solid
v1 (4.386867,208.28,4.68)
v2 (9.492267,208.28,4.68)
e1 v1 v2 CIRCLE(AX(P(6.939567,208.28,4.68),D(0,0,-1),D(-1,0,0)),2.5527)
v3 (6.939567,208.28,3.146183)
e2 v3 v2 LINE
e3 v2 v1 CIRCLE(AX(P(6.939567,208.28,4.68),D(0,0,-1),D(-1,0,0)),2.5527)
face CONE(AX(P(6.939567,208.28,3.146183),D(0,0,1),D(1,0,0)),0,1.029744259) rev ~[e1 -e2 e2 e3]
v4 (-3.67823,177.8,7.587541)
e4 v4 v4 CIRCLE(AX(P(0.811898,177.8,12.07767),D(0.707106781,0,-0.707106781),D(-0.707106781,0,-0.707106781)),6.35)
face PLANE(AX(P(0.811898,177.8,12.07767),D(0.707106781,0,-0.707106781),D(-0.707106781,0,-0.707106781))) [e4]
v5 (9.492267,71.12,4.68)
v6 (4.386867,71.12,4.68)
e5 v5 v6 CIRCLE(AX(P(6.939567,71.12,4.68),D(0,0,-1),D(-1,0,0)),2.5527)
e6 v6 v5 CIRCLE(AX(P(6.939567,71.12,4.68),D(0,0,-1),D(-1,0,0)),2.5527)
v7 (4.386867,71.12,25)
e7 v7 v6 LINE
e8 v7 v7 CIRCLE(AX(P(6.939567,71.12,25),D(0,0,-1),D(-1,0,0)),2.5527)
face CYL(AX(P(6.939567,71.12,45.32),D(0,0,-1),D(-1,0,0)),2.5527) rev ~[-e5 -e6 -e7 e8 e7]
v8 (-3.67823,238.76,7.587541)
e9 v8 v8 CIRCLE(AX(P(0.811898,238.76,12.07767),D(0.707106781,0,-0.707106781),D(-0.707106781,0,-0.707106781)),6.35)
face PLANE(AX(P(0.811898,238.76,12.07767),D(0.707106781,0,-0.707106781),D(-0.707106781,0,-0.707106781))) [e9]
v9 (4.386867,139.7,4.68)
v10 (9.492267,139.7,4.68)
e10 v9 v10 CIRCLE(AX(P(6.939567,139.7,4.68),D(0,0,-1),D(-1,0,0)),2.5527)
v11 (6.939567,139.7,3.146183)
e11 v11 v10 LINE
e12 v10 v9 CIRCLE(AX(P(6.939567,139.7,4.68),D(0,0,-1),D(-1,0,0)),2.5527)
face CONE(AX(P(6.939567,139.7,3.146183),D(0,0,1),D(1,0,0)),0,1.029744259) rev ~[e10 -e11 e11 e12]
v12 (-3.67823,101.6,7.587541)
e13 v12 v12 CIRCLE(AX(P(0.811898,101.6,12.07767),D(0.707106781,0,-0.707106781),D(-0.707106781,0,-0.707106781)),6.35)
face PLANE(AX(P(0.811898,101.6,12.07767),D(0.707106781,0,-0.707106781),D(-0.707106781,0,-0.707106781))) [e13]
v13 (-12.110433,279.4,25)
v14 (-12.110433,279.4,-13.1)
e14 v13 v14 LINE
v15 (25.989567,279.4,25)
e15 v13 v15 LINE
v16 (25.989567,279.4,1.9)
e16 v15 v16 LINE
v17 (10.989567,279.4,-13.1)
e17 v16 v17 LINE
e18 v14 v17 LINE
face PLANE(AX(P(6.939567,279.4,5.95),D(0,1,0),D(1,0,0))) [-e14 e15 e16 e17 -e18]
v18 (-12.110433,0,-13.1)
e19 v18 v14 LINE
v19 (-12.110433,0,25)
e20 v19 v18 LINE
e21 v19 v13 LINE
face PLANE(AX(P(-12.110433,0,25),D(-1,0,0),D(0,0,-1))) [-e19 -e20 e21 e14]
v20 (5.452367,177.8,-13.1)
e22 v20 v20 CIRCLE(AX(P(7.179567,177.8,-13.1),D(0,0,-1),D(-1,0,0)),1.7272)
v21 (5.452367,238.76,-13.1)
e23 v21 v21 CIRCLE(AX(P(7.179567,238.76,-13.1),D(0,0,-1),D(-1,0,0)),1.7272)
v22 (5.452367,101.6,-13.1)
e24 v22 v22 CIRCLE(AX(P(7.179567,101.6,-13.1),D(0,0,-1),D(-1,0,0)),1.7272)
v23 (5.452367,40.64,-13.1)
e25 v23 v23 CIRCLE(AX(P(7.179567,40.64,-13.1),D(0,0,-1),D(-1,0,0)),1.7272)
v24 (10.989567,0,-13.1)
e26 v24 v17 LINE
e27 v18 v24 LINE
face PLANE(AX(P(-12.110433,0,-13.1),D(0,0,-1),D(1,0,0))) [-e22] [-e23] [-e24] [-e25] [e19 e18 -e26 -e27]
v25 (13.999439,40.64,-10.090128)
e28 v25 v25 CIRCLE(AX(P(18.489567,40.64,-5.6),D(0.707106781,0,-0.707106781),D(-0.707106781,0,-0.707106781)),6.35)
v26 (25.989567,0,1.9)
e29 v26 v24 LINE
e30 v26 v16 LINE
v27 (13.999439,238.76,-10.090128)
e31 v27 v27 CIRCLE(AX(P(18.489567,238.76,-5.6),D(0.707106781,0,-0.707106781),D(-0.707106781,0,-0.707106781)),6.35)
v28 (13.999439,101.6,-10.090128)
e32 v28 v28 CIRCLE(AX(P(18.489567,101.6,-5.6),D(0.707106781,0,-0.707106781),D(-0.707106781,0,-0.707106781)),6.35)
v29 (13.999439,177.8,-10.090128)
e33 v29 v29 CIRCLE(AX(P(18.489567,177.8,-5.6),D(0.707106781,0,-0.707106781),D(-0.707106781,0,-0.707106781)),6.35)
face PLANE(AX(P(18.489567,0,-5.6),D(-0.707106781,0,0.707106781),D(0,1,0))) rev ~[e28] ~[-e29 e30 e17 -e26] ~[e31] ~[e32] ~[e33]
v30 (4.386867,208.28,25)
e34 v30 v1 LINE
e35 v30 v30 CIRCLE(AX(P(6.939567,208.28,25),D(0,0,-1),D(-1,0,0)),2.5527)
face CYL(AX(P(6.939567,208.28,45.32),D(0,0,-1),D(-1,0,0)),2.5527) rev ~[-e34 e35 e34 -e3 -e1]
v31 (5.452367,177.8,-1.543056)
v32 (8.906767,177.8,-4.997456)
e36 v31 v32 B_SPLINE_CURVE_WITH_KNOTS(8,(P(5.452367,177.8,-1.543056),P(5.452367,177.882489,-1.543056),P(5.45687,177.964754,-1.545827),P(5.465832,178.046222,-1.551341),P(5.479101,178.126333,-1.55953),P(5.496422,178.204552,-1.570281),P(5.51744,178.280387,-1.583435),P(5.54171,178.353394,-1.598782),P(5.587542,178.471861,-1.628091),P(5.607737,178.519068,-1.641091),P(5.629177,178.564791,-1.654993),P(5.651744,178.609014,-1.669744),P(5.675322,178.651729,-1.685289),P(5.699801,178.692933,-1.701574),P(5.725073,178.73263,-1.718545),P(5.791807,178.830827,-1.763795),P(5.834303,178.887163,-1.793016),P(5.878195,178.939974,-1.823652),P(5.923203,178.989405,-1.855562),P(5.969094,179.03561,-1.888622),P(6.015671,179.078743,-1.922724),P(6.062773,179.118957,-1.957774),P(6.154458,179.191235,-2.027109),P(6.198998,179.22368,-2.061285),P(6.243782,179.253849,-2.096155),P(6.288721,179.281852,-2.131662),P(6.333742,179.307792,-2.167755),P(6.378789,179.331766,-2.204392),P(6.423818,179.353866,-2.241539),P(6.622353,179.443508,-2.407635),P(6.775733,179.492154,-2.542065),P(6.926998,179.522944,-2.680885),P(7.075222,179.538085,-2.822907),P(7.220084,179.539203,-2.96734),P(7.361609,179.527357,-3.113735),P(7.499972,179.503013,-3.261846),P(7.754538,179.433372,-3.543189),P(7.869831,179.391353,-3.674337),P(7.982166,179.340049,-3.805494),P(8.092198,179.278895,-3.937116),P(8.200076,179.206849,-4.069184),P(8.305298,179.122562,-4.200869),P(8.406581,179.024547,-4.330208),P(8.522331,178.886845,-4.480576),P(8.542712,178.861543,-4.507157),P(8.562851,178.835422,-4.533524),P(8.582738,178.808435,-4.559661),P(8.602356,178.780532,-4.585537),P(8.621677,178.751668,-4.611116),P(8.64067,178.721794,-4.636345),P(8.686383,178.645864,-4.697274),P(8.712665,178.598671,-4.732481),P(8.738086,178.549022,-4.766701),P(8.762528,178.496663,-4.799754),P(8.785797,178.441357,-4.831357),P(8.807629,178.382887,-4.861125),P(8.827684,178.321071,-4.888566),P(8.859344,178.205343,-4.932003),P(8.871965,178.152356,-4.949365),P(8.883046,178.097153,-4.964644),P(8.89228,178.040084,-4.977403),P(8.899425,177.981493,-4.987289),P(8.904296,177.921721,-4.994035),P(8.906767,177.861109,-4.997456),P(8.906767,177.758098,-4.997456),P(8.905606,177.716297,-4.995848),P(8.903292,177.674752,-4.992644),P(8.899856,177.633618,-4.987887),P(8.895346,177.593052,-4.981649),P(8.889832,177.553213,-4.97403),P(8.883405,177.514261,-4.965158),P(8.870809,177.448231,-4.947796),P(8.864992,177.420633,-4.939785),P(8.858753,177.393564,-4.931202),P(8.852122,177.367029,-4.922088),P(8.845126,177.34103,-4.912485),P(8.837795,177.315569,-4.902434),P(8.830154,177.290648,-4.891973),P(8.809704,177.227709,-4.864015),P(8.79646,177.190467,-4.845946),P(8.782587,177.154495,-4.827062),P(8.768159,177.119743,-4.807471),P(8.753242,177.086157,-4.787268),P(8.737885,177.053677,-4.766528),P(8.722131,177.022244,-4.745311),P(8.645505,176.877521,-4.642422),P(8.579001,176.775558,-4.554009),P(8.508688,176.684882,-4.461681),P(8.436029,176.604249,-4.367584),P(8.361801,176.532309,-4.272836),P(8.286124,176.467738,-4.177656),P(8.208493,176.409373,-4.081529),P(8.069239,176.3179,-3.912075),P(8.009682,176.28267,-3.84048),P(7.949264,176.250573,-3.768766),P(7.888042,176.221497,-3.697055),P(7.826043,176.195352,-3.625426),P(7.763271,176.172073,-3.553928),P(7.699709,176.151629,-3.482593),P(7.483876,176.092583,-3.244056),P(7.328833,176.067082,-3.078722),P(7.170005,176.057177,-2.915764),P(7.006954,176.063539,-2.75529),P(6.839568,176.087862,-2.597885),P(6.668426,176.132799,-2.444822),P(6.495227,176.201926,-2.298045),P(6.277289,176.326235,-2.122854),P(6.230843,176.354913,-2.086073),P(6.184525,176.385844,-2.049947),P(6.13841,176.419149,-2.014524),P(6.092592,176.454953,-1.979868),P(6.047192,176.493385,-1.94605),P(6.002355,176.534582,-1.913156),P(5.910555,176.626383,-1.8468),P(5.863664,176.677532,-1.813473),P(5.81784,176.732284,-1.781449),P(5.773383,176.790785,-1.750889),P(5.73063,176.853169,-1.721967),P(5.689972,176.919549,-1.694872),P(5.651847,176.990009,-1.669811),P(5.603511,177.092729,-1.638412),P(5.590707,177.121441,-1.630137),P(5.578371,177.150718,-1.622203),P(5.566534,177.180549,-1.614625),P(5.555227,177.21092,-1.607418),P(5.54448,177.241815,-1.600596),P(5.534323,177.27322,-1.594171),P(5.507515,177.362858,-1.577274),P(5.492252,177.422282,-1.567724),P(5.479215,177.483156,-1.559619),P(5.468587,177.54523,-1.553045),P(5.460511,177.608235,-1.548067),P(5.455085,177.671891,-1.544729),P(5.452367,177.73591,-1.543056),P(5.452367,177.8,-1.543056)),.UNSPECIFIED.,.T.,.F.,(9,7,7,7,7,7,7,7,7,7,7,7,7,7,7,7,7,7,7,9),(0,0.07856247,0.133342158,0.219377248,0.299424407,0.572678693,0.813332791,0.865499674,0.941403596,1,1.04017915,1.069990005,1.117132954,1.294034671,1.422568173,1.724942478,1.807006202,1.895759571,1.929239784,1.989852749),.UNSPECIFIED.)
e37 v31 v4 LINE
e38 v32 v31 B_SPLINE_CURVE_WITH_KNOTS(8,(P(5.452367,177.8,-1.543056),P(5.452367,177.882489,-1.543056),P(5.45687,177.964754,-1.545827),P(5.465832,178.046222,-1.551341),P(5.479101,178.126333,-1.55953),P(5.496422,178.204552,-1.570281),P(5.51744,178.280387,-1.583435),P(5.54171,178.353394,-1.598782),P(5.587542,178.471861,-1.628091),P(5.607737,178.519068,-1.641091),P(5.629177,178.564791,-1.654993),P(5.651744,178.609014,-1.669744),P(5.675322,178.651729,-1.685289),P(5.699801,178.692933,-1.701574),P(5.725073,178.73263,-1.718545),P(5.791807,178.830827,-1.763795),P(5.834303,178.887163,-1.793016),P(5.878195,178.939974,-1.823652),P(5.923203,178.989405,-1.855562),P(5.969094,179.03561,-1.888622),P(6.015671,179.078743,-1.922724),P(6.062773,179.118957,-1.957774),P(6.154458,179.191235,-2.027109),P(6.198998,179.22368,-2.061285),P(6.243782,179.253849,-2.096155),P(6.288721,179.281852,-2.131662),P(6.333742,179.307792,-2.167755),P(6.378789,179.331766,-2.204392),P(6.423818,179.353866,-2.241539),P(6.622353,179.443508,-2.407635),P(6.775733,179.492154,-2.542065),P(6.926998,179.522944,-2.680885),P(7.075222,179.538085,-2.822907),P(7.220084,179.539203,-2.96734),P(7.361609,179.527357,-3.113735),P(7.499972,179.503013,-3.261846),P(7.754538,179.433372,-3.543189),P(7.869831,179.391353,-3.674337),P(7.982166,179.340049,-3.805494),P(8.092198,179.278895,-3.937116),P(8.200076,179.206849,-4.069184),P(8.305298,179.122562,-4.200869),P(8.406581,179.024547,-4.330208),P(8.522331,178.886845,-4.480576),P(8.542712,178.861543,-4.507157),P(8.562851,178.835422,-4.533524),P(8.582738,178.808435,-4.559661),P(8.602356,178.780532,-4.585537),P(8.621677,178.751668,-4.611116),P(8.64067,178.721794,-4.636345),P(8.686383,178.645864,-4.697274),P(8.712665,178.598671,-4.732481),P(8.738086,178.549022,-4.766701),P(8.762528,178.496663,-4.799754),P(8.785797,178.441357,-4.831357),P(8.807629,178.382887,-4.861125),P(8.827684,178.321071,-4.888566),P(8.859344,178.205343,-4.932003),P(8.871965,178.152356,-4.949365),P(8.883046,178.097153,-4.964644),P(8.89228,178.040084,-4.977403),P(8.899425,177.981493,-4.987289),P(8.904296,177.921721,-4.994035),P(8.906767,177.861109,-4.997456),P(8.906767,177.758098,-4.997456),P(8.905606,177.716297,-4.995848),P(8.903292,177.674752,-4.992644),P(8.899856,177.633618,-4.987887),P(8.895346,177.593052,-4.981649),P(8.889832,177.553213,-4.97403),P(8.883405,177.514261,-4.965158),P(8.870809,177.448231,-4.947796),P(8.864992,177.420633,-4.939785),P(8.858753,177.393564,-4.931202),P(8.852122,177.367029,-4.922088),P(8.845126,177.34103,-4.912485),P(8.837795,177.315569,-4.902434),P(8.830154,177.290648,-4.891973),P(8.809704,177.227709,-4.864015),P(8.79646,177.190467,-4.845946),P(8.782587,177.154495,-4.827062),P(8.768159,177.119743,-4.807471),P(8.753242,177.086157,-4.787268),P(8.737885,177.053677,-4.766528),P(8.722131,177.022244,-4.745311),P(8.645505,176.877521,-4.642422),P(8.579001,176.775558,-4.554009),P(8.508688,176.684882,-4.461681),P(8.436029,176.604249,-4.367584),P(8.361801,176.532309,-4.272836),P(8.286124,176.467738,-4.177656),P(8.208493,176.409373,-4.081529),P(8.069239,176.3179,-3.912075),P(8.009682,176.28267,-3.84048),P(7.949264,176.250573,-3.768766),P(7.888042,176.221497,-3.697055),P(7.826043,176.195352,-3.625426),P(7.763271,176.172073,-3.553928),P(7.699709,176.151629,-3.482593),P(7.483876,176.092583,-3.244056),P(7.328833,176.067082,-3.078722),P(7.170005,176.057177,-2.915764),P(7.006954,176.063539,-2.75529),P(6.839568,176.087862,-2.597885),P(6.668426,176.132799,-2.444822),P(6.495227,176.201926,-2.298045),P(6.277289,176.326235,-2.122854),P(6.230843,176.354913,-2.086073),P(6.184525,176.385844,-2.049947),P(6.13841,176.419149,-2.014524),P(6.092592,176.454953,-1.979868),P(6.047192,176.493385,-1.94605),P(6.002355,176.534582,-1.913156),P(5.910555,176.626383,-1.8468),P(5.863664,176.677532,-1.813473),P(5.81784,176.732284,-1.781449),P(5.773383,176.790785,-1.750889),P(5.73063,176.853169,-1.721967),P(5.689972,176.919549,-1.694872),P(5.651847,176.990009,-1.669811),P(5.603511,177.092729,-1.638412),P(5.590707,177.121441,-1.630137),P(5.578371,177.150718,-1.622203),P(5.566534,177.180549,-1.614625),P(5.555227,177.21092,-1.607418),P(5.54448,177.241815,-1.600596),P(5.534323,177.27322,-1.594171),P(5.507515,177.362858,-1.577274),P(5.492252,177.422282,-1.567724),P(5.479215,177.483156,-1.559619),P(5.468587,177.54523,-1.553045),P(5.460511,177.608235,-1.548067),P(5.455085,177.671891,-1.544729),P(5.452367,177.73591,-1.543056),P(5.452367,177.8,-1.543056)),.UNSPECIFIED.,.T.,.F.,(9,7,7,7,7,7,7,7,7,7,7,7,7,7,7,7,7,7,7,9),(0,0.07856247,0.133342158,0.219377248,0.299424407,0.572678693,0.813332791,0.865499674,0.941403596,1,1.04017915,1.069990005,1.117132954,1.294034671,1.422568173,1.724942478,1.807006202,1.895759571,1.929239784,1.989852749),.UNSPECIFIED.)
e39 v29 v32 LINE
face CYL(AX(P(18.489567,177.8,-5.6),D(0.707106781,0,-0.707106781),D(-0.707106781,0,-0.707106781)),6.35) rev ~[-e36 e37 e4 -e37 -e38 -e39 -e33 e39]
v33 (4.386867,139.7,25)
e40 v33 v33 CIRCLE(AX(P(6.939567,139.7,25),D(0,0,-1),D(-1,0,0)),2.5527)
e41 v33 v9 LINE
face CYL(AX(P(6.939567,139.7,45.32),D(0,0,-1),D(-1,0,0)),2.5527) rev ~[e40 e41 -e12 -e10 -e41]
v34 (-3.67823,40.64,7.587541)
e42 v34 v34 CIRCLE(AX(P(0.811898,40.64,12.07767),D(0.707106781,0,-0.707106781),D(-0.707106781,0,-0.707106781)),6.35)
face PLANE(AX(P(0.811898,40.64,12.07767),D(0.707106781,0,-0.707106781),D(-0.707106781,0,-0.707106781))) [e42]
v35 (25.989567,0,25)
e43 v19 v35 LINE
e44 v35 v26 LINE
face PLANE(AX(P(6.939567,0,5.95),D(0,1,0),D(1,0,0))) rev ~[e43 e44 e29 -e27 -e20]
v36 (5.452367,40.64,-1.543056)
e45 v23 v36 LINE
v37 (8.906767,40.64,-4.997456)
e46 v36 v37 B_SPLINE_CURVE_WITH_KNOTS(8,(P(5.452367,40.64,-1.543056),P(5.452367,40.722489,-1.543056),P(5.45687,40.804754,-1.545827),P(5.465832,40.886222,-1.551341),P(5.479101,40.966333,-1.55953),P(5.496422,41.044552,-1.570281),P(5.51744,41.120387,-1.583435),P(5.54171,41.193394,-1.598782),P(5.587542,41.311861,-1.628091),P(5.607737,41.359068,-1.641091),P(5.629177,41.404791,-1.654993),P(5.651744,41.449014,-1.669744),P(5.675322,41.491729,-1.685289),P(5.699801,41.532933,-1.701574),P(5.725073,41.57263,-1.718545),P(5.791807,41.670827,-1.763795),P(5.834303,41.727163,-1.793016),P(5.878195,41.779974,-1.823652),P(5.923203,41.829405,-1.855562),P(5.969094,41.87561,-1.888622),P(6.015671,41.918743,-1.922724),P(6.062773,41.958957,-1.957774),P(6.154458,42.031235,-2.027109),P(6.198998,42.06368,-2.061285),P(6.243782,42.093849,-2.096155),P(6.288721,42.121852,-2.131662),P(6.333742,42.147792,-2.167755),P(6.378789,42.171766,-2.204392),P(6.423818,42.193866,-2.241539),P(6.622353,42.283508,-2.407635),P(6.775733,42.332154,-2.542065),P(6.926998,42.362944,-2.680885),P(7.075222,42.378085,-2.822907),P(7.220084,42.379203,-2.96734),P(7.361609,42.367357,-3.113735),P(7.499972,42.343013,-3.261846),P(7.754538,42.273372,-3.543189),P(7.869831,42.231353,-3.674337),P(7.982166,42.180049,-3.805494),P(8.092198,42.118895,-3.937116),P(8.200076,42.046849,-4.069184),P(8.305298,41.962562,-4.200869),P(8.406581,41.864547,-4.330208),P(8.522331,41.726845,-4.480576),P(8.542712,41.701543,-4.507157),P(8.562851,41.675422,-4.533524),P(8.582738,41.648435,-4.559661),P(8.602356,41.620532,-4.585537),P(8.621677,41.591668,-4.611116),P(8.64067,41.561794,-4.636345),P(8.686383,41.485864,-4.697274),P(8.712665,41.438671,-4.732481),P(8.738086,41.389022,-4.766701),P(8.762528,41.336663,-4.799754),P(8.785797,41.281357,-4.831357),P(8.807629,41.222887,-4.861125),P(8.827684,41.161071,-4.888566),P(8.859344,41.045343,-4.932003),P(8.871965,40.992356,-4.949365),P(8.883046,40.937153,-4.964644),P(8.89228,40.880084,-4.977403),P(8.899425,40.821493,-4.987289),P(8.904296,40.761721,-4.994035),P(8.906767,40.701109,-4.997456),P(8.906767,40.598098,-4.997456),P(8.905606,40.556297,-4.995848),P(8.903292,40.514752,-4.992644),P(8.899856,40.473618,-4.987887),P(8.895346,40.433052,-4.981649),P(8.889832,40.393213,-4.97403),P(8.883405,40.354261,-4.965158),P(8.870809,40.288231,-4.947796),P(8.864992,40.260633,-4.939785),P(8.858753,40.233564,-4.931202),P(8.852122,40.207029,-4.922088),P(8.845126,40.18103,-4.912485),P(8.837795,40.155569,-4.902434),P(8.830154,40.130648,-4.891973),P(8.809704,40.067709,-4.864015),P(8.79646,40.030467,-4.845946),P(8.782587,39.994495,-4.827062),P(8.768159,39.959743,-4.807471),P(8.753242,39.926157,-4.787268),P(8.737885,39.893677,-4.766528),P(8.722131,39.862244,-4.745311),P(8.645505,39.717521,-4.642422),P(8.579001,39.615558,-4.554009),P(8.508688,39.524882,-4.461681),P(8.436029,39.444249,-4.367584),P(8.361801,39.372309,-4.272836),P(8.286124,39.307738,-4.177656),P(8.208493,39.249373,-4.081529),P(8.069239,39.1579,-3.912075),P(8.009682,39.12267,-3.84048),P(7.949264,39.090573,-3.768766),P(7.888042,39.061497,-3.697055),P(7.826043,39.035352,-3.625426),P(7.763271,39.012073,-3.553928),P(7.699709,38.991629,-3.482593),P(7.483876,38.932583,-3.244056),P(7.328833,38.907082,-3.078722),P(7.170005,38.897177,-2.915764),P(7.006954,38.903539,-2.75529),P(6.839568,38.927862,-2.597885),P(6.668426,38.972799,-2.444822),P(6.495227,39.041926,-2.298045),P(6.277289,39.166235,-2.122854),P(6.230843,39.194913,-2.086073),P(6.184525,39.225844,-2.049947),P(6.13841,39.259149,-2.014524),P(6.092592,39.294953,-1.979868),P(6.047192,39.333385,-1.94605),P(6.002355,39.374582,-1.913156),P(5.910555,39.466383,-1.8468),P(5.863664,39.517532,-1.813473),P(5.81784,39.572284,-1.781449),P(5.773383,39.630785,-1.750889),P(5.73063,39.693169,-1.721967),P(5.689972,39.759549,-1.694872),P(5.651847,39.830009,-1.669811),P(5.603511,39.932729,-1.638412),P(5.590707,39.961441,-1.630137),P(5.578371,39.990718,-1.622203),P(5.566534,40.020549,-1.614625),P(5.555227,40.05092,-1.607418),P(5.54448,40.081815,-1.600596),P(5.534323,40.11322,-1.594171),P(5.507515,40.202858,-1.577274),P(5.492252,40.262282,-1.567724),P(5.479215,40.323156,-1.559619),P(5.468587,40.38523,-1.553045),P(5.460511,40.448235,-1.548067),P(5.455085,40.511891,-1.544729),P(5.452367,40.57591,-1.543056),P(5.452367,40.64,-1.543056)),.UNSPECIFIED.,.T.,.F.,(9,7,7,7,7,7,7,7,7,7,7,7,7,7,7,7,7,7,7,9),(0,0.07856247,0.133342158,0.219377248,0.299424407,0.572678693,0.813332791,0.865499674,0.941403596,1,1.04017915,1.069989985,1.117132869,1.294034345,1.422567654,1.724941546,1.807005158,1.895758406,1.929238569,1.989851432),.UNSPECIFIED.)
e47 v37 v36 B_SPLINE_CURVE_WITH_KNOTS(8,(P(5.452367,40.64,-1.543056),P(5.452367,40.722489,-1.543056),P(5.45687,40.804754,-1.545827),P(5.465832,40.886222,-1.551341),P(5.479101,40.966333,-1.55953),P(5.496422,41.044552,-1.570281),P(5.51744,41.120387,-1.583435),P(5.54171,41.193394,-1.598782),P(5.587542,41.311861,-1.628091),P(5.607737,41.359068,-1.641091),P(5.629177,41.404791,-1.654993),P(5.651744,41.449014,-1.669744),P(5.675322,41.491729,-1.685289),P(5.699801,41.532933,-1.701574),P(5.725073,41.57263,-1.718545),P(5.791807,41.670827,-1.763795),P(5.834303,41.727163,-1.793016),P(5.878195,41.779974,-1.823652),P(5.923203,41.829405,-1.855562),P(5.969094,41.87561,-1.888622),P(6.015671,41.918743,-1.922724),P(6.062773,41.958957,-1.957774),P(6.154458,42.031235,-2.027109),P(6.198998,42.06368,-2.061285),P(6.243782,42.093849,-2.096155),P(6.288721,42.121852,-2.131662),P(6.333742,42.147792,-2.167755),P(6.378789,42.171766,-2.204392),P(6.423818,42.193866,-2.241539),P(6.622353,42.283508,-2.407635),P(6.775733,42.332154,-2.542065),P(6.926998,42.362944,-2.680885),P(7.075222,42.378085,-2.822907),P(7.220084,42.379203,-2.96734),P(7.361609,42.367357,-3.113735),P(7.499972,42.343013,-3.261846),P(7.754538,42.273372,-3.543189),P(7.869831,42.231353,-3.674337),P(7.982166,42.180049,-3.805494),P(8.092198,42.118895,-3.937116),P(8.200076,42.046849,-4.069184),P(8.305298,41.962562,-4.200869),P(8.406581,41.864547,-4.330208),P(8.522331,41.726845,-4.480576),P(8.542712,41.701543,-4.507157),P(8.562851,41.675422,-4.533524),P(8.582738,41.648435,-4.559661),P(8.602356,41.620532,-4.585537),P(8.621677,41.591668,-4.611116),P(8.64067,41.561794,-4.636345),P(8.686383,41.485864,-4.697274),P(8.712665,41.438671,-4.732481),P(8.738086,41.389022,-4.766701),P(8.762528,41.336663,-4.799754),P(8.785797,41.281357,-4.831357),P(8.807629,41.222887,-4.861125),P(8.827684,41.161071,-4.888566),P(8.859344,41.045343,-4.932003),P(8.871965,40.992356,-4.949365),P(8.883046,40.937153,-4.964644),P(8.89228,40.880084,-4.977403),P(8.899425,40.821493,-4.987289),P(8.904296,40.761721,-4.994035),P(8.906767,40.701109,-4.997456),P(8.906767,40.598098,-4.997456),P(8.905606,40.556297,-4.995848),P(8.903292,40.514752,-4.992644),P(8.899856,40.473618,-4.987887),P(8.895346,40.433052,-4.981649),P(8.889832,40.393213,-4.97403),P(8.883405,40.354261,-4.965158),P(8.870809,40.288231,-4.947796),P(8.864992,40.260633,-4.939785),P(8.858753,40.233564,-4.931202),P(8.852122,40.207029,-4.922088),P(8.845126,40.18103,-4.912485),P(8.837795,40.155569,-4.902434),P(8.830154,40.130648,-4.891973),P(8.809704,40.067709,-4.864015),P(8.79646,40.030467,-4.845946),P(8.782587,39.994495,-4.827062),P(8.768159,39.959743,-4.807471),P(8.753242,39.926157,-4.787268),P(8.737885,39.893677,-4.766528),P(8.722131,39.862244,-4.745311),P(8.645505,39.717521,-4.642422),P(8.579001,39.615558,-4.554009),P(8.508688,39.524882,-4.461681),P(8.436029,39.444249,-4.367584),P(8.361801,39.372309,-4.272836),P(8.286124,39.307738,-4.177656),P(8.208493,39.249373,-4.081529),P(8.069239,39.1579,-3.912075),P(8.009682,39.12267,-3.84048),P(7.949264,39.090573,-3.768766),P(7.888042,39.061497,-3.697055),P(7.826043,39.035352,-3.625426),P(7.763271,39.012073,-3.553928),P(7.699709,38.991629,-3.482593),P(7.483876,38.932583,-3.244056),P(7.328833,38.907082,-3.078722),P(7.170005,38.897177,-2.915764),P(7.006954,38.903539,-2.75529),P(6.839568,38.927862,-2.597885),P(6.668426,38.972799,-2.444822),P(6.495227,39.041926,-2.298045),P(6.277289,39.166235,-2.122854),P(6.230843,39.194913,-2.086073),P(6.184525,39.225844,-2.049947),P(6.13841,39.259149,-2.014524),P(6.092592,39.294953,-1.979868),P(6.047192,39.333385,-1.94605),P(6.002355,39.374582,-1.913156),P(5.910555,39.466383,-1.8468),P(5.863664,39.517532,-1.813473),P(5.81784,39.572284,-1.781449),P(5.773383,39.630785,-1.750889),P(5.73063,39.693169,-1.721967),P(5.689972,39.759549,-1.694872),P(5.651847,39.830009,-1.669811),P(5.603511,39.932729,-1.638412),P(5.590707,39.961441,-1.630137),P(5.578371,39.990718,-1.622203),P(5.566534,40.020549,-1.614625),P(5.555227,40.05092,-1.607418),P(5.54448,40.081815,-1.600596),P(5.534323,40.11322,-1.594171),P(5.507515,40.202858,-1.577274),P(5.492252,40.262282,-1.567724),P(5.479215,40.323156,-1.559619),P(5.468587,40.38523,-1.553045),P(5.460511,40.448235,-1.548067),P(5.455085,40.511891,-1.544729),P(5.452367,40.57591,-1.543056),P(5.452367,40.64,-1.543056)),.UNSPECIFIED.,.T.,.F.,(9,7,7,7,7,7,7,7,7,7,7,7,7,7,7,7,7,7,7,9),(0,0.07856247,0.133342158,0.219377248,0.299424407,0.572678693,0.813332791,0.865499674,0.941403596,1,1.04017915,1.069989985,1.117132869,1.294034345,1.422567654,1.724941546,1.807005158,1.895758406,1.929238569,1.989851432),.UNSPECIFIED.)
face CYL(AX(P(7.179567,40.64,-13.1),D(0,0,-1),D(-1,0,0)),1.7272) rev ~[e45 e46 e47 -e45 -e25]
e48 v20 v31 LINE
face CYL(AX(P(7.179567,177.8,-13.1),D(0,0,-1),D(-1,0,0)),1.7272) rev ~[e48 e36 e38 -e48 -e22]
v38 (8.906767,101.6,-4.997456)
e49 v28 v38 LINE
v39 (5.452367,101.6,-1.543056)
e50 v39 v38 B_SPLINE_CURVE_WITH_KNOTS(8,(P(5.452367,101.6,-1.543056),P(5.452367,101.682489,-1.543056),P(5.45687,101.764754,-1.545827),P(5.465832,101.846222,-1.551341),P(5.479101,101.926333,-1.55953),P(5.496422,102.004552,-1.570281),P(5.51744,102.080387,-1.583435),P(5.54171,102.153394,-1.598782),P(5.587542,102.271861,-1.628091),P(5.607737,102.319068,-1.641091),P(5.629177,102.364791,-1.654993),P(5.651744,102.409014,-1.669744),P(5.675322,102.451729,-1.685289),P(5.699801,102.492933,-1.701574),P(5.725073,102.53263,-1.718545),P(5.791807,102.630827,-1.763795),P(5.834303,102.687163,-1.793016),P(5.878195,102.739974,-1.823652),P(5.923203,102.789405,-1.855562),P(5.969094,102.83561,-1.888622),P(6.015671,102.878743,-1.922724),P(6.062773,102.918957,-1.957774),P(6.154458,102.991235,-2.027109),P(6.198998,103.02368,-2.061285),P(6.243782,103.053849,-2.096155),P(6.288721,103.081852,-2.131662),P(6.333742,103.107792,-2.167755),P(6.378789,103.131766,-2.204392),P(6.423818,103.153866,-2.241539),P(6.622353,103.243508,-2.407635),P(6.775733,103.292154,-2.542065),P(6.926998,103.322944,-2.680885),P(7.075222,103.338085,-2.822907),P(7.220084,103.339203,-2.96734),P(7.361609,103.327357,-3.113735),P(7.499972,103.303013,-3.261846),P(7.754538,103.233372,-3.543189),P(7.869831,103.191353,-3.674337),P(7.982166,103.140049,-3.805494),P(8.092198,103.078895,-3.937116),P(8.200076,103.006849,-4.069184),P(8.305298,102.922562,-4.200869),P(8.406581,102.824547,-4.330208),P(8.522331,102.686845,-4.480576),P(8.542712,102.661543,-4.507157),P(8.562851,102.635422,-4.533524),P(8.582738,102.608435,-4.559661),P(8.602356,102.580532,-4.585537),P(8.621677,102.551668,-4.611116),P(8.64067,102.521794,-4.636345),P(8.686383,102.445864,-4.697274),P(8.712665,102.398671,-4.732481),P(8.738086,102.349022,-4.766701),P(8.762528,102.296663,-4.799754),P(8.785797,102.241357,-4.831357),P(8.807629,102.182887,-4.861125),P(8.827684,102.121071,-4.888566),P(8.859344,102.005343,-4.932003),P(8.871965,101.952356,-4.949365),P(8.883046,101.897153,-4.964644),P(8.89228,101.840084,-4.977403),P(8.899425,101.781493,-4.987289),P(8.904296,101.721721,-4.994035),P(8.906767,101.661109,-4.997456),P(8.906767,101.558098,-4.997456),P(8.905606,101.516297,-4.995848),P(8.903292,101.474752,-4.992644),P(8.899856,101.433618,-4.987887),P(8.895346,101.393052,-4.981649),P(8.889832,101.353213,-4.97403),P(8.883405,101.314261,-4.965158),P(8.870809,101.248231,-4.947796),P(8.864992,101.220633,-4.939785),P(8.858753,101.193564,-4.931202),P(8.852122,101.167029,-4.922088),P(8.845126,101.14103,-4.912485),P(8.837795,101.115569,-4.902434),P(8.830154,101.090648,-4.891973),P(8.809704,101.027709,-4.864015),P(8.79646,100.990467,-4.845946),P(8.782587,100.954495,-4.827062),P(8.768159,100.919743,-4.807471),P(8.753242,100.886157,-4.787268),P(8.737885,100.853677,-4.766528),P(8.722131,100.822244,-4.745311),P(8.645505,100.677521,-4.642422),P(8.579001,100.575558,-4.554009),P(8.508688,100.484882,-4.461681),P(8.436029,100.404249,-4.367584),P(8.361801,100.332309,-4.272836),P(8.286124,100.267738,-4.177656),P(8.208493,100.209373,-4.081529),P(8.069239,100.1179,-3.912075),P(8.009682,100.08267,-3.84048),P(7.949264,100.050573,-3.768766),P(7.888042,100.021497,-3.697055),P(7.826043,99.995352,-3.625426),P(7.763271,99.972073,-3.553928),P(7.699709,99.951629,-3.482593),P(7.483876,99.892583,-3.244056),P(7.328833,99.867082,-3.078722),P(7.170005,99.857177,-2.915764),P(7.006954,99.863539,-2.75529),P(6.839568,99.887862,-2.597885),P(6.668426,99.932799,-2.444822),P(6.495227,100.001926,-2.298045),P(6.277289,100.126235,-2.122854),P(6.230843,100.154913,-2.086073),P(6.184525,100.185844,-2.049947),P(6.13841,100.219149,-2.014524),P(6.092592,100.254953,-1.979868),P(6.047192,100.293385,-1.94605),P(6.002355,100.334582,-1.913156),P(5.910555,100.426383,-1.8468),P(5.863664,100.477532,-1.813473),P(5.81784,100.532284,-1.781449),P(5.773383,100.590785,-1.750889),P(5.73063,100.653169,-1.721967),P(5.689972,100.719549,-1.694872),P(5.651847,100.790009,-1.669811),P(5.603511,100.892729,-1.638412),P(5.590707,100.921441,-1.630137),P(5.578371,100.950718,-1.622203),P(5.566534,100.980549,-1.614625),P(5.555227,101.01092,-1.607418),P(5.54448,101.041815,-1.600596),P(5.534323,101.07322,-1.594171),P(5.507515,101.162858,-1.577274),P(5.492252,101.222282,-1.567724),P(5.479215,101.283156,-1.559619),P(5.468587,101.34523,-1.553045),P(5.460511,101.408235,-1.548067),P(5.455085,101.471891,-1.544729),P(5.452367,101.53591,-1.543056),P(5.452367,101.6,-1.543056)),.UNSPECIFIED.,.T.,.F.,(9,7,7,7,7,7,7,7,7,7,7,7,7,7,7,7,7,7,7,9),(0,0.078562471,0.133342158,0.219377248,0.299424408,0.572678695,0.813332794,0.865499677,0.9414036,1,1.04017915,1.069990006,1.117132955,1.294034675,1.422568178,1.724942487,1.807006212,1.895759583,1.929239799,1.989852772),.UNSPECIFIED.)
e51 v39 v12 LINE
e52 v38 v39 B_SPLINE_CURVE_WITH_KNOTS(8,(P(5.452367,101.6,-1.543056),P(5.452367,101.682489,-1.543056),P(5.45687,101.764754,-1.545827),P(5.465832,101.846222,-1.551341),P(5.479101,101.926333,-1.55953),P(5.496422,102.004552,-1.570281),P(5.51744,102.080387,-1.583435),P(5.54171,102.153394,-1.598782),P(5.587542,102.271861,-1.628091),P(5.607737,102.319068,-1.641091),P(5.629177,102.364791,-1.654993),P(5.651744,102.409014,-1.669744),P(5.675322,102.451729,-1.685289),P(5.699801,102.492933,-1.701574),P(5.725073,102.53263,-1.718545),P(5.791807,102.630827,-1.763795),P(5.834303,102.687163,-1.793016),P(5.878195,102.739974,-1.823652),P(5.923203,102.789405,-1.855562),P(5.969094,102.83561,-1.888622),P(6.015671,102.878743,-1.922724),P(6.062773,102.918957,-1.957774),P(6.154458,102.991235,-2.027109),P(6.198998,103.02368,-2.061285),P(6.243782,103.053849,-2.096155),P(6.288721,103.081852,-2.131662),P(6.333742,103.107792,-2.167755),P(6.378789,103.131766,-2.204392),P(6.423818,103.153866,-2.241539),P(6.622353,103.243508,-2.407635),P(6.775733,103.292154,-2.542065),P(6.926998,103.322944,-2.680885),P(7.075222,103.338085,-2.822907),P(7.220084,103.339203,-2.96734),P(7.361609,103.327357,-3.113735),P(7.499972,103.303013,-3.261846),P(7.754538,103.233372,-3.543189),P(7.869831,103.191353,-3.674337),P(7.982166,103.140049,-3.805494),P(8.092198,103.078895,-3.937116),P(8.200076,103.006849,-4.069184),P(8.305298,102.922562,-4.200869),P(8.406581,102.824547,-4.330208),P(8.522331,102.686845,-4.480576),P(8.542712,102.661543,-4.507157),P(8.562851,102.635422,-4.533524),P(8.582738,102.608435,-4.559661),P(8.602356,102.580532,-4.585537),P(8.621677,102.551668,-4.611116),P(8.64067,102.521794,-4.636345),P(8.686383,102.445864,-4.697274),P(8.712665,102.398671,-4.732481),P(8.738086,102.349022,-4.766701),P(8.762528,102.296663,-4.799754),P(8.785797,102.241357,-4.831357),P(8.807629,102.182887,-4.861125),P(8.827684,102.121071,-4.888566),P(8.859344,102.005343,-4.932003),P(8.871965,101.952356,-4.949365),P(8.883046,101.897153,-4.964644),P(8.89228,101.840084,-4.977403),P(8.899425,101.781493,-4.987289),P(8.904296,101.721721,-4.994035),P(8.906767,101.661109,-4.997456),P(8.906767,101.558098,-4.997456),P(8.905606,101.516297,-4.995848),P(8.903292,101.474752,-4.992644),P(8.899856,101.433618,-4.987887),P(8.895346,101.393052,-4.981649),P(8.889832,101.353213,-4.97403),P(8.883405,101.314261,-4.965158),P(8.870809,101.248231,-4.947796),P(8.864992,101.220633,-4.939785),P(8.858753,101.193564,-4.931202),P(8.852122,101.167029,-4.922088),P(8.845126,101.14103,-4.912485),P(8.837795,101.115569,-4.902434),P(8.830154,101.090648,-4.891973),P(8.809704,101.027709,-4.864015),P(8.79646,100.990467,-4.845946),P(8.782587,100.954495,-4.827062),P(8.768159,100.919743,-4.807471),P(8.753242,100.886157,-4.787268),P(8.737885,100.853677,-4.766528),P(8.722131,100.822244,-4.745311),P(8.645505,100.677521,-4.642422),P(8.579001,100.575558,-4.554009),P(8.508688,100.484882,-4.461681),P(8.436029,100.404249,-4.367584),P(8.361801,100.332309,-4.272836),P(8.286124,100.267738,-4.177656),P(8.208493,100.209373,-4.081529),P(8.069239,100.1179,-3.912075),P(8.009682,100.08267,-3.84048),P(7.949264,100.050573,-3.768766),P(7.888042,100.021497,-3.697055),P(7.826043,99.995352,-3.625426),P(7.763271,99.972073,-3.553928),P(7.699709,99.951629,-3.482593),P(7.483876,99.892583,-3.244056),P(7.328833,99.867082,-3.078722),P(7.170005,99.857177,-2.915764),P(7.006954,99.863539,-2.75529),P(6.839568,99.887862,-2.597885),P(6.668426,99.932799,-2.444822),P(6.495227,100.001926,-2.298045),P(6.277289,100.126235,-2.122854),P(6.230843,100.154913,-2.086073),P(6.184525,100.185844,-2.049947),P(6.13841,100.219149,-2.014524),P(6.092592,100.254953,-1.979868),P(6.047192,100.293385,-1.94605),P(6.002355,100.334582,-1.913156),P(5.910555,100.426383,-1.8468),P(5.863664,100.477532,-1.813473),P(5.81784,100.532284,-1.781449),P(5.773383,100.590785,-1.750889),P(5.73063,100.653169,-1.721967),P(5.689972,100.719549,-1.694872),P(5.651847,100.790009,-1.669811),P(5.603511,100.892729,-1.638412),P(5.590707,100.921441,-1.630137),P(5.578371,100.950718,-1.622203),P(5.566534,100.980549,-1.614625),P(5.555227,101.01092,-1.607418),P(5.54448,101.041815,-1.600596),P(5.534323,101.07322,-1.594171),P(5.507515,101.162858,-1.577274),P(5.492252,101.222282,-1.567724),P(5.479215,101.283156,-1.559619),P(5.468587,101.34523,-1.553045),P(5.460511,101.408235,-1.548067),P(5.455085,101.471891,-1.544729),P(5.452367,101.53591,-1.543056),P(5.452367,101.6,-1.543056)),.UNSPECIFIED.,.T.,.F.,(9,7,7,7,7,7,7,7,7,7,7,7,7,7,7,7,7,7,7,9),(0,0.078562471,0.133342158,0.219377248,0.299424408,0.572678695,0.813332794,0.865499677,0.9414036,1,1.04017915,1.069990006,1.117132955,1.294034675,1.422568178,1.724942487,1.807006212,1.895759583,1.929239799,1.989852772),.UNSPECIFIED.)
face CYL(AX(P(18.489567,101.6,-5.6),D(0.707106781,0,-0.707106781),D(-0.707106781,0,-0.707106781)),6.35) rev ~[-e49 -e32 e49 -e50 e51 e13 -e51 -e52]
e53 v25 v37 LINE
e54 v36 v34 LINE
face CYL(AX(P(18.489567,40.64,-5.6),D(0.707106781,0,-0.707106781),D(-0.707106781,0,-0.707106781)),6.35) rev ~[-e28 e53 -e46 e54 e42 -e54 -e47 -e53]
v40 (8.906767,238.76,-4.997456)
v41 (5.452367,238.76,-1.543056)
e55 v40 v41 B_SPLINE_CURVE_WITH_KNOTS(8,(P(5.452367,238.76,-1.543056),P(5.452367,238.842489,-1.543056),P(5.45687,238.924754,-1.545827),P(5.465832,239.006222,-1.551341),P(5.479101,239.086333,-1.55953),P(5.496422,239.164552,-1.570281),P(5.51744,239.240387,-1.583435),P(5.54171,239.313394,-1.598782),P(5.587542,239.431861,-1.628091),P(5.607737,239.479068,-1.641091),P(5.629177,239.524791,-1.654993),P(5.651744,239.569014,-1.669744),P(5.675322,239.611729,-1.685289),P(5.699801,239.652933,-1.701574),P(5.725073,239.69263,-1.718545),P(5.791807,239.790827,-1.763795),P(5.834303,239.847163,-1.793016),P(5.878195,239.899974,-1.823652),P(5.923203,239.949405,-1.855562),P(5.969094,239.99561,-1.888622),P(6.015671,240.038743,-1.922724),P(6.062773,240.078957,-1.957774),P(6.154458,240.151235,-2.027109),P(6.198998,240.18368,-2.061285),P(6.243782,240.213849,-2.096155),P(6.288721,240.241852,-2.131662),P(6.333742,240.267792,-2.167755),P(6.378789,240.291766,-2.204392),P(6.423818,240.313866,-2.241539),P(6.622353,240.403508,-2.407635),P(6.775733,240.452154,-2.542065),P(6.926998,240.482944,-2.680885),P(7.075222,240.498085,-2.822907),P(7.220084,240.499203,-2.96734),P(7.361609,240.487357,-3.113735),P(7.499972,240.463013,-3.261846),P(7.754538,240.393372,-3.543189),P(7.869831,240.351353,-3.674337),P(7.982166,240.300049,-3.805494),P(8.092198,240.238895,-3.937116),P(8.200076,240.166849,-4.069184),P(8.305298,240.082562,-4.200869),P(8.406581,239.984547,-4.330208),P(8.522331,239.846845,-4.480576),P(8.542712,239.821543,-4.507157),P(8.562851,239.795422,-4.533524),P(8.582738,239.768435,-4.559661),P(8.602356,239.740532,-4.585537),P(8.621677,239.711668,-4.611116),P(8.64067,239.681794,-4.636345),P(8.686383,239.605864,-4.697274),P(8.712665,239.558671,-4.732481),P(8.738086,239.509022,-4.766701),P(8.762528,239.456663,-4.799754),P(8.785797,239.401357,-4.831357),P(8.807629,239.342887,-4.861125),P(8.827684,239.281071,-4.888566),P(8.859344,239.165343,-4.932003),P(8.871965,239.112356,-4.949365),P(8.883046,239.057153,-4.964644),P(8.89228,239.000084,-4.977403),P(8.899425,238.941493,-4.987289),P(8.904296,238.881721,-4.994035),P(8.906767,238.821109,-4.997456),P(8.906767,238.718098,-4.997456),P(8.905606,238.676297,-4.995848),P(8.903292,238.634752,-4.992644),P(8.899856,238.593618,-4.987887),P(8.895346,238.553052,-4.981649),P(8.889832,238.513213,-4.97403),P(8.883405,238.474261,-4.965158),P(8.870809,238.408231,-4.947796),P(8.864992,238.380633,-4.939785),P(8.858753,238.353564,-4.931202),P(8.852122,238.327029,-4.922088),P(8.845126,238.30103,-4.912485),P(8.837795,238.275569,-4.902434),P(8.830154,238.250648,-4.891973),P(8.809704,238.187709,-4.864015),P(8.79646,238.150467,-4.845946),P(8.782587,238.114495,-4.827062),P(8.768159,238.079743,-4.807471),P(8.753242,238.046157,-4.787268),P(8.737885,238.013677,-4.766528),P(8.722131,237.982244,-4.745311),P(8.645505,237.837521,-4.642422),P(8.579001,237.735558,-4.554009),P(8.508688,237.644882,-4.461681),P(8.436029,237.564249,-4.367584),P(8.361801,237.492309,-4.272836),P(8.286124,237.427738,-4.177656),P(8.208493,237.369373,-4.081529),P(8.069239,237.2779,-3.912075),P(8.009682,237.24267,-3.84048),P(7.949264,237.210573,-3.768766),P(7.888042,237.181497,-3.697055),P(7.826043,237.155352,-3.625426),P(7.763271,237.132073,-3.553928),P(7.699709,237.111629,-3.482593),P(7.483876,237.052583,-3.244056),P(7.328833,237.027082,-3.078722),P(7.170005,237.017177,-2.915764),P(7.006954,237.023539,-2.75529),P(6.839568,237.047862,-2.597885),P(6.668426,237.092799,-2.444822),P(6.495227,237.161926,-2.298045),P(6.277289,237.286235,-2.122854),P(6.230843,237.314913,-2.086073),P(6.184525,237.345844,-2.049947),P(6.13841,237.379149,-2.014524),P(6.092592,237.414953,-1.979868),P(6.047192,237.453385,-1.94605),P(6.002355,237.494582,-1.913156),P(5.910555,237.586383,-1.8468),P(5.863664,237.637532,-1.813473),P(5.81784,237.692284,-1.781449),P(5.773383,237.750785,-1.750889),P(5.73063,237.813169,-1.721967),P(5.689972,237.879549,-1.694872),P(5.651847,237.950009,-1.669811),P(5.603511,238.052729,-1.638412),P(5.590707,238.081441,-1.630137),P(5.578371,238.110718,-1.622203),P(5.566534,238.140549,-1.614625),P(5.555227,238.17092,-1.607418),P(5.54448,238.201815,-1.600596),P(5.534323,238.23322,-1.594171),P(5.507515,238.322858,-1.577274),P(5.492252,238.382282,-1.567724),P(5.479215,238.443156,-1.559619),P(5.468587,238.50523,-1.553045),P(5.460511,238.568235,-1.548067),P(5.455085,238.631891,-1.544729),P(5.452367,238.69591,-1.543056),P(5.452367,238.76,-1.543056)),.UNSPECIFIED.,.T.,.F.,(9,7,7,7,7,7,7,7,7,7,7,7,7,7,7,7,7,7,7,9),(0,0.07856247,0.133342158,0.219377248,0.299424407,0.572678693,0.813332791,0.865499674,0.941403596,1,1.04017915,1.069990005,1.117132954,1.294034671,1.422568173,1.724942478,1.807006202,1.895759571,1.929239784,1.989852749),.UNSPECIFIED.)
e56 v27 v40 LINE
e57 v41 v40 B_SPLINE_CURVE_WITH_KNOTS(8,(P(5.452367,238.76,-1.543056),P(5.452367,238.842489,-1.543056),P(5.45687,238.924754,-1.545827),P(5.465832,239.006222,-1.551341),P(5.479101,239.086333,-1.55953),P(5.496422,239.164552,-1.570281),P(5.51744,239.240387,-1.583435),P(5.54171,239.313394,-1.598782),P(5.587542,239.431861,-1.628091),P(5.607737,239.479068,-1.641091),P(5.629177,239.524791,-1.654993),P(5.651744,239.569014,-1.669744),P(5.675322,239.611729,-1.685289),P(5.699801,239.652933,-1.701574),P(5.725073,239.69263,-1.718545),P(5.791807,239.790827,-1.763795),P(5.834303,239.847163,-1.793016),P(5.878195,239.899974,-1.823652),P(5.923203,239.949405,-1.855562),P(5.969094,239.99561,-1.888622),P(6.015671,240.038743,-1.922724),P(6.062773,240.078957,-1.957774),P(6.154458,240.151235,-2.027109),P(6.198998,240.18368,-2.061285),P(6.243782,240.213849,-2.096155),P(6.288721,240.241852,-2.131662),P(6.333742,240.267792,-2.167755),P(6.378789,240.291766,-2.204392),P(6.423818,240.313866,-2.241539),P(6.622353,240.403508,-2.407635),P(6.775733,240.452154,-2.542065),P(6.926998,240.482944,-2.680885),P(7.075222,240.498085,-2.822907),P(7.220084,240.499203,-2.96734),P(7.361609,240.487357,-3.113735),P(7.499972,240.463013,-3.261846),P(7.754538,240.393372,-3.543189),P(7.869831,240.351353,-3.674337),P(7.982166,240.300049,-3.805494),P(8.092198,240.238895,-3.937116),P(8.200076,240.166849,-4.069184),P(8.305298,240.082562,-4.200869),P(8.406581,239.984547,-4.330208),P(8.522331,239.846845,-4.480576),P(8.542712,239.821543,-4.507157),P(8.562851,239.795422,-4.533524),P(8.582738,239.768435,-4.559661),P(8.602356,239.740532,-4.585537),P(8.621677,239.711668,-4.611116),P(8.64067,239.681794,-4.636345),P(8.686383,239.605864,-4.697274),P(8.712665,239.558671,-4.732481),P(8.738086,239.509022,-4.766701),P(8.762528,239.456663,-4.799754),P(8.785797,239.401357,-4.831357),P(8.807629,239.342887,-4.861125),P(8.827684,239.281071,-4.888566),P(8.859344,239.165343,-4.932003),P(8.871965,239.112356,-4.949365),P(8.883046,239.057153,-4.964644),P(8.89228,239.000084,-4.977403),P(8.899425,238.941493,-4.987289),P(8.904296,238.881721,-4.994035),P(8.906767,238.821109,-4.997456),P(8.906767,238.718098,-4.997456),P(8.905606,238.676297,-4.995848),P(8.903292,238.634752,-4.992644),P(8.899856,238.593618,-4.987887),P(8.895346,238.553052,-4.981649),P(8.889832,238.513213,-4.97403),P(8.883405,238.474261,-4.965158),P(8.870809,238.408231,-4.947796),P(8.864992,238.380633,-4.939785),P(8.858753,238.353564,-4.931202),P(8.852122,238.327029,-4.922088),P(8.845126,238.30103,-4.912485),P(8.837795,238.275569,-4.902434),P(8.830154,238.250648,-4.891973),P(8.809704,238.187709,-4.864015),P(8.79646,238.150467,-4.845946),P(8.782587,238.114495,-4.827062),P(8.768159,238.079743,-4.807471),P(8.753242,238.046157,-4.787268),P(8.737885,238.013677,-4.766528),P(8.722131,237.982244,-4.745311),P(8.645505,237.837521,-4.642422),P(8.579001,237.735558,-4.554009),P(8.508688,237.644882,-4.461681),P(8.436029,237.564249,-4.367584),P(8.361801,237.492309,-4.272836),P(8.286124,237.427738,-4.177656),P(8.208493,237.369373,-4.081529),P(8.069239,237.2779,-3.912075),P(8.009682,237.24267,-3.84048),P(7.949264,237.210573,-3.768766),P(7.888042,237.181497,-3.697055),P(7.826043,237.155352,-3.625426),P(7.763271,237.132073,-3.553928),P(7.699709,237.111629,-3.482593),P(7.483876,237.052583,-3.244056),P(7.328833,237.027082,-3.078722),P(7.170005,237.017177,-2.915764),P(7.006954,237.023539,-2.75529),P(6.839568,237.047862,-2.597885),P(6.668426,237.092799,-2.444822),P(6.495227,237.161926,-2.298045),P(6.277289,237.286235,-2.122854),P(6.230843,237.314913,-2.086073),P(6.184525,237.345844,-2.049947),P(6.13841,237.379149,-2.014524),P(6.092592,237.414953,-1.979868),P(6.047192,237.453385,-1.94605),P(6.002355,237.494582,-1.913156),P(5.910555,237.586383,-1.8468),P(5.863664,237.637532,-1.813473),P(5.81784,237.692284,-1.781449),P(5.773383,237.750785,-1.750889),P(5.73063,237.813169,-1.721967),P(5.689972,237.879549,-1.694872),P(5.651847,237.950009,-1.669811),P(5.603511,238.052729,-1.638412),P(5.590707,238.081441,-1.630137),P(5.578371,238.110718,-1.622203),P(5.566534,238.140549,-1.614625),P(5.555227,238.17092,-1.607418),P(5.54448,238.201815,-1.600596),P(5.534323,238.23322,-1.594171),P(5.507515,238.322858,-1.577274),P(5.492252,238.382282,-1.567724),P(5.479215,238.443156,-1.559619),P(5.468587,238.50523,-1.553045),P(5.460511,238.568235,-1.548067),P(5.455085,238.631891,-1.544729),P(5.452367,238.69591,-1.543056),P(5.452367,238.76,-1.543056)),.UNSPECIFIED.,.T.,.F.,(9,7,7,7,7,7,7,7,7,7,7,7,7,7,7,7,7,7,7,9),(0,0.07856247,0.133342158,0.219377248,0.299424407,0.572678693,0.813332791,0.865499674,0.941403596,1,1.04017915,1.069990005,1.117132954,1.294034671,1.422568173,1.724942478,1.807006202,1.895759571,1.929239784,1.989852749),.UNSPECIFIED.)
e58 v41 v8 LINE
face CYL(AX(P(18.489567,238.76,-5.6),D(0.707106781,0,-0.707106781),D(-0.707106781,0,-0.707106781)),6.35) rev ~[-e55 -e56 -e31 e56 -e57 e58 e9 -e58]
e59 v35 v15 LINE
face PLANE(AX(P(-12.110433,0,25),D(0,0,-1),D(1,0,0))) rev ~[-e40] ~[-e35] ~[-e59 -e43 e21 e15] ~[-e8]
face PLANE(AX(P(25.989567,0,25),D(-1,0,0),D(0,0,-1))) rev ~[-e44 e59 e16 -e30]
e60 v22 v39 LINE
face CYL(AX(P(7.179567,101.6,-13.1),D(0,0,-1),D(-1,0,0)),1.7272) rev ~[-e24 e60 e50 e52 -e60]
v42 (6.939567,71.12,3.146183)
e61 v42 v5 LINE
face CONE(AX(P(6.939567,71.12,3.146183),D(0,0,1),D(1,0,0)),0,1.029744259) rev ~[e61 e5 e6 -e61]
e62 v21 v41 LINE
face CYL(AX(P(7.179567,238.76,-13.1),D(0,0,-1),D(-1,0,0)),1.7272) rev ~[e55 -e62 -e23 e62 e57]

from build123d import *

# Parameters (mm, degrees)
SKETCH1_W                   = 38.1
SKETCH1_H                   = 38.1
BOSS_EXTRUDE1_DEPTH         = 279.4
CHAMFER1_SIZE               = 15
SKETCH15_R                  = 6.35
CUT_EXTRUDE2_DEPTH          = 25
F_1_4_20_TAPPED_HOLE1_D     = 5.1054
F_1_4_20_TAPPED_HOLE1_DEPTH = 20.32
F_1_4_20_TAPPED_HOLE1_TIP   = 1.533816902
F_8_32_TAPPED_HOLE1_REACH   = 285.181
F_8_32_TAPPED_HOLE1_BORE_R  = 1.7272


with BuildPart() as part:
    # Sketch1 → Boss-Extrude1 (new body)
    with BuildSketch(Plane(origin=(0, 0, 0), x_dir=(1, 0, 0), z_dir=(0, 1, 0))):
        with Locations((6.939567467, -5.95)):
            Rectangle(SKETCH1_W, SKETCH1_H)
    extrude(amount=BOSS_EXTRUDE1_DEPTH)

    # Chamfer1
    chamfer1_edges = [part.edges().sort_by_distance(p)[0] for p in [
        (25.989567467, 139.7, -13.1),
    ]]
    chamfer(chamfer1_edges, length=CHAMFER1_SIZE)

    # Sketch15 → Cut-Extrude2 (cut)
    with BuildSketch(Plane(origin=(12.044783734, 0, -12.044783734), x_dir=(-0.7071067811865465, 0, -0.7071067811865487), z_dir=(0.7071067811865487, 0, -0.7071067811865465))):
        with Locations((-9.114300563, 238.76)):
            Circle(SKETCH15_R)
        with Locations((-9.114300563, 177.8)):
            Circle(SKETCH15_R)
        with Locations((-9.114300563, 101.6)):
            Circle(SKETCH15_R)
        with Locations((-9.114300563, 40.64)):
            Circle(SKETCH15_R)
    extrude(amount=-CUT_EXTRUDE2_DEPTH, mode=Mode.SUBTRACT)

    # 1/4-20 Tapped Hole1
    with Locations(Plane.XY.offset(25)):
        with Locations((6.939567467, 208.28), (6.939567467, 139.7), (6.939567467, 71.12)):
            Hole(F_1_4_20_TAPPED_HOLE1_D / 2, depth=F_1_4_20_TAPPED_HOLE1_DEPTH)
            with Locations((0, 0, -(F_1_4_20_TAPPED_HOLE1_DEPTH + F_1_4_20_TAPPED_HOLE1_TIP / 2))):  # 118° drill point
                Cone(0, F_1_4_20_TAPPED_HOLE1_D / 2, F_1_4_20_TAPPED_HOLE1_TIP, mode=Mode.SUBTRACT)

    # #8-32 Tapped Hole1 bore → #8-32 Tapped Hole1 (cut, up to next)
    with BuildSketch(Plane(origin=(0, 0, -13.1), x_dir=(-1, 0, 0), z_dir=(0, 0, -1)), mode=Mode.PRIVATE) as f_8_32_tapped_hole1_sk1:
        with Locations((-7.179567467, 40.64)):
            Circle(F_8_32_TAPPED_HOLE1_BORE_R)
    f_8_32_tapped_hole1_tool1 = extrude(f_8_32_tapped_hole1_sk1.sketch, amount=-F_8_32_TAPPED_HOLE1_REACH, mode=Mode.PRIVATE) & part.part
    # #8-32 Tapped Hole1 bore → #8-32 Tapped Hole1 (cut, up to next)
    with BuildSketch(Plane(origin=(0, 0, -13.1), x_dir=(-1, 0, 0), z_dir=(0, 0, -1)), mode=Mode.PRIVATE) as f_8_32_tapped_hole1_sk2:
        with Locations((-7.179567467, 101.6)):
            Circle(F_8_32_TAPPED_HOLE1_BORE_R)
    f_8_32_tapped_hole1_tool2 = extrude(f_8_32_tapped_hole1_sk2.sketch, amount=-F_8_32_TAPPED_HOLE1_REACH, mode=Mode.PRIVATE) & part.part
    # #8-32 Tapped Hole1 bore → #8-32 Tapped Hole1 (cut, up to next)
    with BuildSketch(Plane(origin=(0, 0, -13.1), x_dir=(-1, 0, 0), z_dir=(0, 0, -1)), mode=Mode.PRIVATE) as f_8_32_tapped_hole1_sk3:
        with Locations((-7.179567467, 177.8)):
            Circle(F_8_32_TAPPED_HOLE1_BORE_R)
    f_8_32_tapped_hole1_tool3 = extrude(f_8_32_tapped_hole1_sk3.sketch, amount=-F_8_32_TAPPED_HOLE1_REACH, mode=Mode.PRIVATE) & part.part
    # #8-32 Tapped Hole1 bore → #8-32 Tapped Hole1 (cut, up to next)
    with BuildSketch(Plane(origin=(0, 0, -13.1), x_dir=(-1, 0, 0), z_dir=(0, 0, -1)), mode=Mode.PRIVATE) as f_8_32_tapped_hole1_sk4:
        with Locations((-7.179567467, 238.76)):
            Circle(F_8_32_TAPPED_HOLE1_BORE_R)
    f_8_32_tapped_hole1_tool4 = extrude(f_8_32_tapped_hole1_sk4.sketch, amount=-F_8_32_TAPPED_HOLE1_REACH, mode=Mode.PRIVATE) & part.part
    add(f_8_32_tapped_hole1_tool1.solids().sort_by_distance((7.179567, 40.64, -13.1))[0], mode=Mode.SUBTRACT)
    add(f_8_32_tapped_hole1_tool2.solids().sort_by_distance((7.179567, 101.6, -13.1))[0], mode=Mode.SUBTRACT)
    add(f_8_32_tapped_hole1_tool3.solids().sort_by_distance((7.179567, 177.8, -13.1))[0], mode=Mode.SUBTRACT)
    add(f_8_32_tapped_hole1_tool4.solids().sort_by_distance((7.179567, 238.76, -13.1))[0], mode=Mode.SUBTRACT)


solid = part.part
